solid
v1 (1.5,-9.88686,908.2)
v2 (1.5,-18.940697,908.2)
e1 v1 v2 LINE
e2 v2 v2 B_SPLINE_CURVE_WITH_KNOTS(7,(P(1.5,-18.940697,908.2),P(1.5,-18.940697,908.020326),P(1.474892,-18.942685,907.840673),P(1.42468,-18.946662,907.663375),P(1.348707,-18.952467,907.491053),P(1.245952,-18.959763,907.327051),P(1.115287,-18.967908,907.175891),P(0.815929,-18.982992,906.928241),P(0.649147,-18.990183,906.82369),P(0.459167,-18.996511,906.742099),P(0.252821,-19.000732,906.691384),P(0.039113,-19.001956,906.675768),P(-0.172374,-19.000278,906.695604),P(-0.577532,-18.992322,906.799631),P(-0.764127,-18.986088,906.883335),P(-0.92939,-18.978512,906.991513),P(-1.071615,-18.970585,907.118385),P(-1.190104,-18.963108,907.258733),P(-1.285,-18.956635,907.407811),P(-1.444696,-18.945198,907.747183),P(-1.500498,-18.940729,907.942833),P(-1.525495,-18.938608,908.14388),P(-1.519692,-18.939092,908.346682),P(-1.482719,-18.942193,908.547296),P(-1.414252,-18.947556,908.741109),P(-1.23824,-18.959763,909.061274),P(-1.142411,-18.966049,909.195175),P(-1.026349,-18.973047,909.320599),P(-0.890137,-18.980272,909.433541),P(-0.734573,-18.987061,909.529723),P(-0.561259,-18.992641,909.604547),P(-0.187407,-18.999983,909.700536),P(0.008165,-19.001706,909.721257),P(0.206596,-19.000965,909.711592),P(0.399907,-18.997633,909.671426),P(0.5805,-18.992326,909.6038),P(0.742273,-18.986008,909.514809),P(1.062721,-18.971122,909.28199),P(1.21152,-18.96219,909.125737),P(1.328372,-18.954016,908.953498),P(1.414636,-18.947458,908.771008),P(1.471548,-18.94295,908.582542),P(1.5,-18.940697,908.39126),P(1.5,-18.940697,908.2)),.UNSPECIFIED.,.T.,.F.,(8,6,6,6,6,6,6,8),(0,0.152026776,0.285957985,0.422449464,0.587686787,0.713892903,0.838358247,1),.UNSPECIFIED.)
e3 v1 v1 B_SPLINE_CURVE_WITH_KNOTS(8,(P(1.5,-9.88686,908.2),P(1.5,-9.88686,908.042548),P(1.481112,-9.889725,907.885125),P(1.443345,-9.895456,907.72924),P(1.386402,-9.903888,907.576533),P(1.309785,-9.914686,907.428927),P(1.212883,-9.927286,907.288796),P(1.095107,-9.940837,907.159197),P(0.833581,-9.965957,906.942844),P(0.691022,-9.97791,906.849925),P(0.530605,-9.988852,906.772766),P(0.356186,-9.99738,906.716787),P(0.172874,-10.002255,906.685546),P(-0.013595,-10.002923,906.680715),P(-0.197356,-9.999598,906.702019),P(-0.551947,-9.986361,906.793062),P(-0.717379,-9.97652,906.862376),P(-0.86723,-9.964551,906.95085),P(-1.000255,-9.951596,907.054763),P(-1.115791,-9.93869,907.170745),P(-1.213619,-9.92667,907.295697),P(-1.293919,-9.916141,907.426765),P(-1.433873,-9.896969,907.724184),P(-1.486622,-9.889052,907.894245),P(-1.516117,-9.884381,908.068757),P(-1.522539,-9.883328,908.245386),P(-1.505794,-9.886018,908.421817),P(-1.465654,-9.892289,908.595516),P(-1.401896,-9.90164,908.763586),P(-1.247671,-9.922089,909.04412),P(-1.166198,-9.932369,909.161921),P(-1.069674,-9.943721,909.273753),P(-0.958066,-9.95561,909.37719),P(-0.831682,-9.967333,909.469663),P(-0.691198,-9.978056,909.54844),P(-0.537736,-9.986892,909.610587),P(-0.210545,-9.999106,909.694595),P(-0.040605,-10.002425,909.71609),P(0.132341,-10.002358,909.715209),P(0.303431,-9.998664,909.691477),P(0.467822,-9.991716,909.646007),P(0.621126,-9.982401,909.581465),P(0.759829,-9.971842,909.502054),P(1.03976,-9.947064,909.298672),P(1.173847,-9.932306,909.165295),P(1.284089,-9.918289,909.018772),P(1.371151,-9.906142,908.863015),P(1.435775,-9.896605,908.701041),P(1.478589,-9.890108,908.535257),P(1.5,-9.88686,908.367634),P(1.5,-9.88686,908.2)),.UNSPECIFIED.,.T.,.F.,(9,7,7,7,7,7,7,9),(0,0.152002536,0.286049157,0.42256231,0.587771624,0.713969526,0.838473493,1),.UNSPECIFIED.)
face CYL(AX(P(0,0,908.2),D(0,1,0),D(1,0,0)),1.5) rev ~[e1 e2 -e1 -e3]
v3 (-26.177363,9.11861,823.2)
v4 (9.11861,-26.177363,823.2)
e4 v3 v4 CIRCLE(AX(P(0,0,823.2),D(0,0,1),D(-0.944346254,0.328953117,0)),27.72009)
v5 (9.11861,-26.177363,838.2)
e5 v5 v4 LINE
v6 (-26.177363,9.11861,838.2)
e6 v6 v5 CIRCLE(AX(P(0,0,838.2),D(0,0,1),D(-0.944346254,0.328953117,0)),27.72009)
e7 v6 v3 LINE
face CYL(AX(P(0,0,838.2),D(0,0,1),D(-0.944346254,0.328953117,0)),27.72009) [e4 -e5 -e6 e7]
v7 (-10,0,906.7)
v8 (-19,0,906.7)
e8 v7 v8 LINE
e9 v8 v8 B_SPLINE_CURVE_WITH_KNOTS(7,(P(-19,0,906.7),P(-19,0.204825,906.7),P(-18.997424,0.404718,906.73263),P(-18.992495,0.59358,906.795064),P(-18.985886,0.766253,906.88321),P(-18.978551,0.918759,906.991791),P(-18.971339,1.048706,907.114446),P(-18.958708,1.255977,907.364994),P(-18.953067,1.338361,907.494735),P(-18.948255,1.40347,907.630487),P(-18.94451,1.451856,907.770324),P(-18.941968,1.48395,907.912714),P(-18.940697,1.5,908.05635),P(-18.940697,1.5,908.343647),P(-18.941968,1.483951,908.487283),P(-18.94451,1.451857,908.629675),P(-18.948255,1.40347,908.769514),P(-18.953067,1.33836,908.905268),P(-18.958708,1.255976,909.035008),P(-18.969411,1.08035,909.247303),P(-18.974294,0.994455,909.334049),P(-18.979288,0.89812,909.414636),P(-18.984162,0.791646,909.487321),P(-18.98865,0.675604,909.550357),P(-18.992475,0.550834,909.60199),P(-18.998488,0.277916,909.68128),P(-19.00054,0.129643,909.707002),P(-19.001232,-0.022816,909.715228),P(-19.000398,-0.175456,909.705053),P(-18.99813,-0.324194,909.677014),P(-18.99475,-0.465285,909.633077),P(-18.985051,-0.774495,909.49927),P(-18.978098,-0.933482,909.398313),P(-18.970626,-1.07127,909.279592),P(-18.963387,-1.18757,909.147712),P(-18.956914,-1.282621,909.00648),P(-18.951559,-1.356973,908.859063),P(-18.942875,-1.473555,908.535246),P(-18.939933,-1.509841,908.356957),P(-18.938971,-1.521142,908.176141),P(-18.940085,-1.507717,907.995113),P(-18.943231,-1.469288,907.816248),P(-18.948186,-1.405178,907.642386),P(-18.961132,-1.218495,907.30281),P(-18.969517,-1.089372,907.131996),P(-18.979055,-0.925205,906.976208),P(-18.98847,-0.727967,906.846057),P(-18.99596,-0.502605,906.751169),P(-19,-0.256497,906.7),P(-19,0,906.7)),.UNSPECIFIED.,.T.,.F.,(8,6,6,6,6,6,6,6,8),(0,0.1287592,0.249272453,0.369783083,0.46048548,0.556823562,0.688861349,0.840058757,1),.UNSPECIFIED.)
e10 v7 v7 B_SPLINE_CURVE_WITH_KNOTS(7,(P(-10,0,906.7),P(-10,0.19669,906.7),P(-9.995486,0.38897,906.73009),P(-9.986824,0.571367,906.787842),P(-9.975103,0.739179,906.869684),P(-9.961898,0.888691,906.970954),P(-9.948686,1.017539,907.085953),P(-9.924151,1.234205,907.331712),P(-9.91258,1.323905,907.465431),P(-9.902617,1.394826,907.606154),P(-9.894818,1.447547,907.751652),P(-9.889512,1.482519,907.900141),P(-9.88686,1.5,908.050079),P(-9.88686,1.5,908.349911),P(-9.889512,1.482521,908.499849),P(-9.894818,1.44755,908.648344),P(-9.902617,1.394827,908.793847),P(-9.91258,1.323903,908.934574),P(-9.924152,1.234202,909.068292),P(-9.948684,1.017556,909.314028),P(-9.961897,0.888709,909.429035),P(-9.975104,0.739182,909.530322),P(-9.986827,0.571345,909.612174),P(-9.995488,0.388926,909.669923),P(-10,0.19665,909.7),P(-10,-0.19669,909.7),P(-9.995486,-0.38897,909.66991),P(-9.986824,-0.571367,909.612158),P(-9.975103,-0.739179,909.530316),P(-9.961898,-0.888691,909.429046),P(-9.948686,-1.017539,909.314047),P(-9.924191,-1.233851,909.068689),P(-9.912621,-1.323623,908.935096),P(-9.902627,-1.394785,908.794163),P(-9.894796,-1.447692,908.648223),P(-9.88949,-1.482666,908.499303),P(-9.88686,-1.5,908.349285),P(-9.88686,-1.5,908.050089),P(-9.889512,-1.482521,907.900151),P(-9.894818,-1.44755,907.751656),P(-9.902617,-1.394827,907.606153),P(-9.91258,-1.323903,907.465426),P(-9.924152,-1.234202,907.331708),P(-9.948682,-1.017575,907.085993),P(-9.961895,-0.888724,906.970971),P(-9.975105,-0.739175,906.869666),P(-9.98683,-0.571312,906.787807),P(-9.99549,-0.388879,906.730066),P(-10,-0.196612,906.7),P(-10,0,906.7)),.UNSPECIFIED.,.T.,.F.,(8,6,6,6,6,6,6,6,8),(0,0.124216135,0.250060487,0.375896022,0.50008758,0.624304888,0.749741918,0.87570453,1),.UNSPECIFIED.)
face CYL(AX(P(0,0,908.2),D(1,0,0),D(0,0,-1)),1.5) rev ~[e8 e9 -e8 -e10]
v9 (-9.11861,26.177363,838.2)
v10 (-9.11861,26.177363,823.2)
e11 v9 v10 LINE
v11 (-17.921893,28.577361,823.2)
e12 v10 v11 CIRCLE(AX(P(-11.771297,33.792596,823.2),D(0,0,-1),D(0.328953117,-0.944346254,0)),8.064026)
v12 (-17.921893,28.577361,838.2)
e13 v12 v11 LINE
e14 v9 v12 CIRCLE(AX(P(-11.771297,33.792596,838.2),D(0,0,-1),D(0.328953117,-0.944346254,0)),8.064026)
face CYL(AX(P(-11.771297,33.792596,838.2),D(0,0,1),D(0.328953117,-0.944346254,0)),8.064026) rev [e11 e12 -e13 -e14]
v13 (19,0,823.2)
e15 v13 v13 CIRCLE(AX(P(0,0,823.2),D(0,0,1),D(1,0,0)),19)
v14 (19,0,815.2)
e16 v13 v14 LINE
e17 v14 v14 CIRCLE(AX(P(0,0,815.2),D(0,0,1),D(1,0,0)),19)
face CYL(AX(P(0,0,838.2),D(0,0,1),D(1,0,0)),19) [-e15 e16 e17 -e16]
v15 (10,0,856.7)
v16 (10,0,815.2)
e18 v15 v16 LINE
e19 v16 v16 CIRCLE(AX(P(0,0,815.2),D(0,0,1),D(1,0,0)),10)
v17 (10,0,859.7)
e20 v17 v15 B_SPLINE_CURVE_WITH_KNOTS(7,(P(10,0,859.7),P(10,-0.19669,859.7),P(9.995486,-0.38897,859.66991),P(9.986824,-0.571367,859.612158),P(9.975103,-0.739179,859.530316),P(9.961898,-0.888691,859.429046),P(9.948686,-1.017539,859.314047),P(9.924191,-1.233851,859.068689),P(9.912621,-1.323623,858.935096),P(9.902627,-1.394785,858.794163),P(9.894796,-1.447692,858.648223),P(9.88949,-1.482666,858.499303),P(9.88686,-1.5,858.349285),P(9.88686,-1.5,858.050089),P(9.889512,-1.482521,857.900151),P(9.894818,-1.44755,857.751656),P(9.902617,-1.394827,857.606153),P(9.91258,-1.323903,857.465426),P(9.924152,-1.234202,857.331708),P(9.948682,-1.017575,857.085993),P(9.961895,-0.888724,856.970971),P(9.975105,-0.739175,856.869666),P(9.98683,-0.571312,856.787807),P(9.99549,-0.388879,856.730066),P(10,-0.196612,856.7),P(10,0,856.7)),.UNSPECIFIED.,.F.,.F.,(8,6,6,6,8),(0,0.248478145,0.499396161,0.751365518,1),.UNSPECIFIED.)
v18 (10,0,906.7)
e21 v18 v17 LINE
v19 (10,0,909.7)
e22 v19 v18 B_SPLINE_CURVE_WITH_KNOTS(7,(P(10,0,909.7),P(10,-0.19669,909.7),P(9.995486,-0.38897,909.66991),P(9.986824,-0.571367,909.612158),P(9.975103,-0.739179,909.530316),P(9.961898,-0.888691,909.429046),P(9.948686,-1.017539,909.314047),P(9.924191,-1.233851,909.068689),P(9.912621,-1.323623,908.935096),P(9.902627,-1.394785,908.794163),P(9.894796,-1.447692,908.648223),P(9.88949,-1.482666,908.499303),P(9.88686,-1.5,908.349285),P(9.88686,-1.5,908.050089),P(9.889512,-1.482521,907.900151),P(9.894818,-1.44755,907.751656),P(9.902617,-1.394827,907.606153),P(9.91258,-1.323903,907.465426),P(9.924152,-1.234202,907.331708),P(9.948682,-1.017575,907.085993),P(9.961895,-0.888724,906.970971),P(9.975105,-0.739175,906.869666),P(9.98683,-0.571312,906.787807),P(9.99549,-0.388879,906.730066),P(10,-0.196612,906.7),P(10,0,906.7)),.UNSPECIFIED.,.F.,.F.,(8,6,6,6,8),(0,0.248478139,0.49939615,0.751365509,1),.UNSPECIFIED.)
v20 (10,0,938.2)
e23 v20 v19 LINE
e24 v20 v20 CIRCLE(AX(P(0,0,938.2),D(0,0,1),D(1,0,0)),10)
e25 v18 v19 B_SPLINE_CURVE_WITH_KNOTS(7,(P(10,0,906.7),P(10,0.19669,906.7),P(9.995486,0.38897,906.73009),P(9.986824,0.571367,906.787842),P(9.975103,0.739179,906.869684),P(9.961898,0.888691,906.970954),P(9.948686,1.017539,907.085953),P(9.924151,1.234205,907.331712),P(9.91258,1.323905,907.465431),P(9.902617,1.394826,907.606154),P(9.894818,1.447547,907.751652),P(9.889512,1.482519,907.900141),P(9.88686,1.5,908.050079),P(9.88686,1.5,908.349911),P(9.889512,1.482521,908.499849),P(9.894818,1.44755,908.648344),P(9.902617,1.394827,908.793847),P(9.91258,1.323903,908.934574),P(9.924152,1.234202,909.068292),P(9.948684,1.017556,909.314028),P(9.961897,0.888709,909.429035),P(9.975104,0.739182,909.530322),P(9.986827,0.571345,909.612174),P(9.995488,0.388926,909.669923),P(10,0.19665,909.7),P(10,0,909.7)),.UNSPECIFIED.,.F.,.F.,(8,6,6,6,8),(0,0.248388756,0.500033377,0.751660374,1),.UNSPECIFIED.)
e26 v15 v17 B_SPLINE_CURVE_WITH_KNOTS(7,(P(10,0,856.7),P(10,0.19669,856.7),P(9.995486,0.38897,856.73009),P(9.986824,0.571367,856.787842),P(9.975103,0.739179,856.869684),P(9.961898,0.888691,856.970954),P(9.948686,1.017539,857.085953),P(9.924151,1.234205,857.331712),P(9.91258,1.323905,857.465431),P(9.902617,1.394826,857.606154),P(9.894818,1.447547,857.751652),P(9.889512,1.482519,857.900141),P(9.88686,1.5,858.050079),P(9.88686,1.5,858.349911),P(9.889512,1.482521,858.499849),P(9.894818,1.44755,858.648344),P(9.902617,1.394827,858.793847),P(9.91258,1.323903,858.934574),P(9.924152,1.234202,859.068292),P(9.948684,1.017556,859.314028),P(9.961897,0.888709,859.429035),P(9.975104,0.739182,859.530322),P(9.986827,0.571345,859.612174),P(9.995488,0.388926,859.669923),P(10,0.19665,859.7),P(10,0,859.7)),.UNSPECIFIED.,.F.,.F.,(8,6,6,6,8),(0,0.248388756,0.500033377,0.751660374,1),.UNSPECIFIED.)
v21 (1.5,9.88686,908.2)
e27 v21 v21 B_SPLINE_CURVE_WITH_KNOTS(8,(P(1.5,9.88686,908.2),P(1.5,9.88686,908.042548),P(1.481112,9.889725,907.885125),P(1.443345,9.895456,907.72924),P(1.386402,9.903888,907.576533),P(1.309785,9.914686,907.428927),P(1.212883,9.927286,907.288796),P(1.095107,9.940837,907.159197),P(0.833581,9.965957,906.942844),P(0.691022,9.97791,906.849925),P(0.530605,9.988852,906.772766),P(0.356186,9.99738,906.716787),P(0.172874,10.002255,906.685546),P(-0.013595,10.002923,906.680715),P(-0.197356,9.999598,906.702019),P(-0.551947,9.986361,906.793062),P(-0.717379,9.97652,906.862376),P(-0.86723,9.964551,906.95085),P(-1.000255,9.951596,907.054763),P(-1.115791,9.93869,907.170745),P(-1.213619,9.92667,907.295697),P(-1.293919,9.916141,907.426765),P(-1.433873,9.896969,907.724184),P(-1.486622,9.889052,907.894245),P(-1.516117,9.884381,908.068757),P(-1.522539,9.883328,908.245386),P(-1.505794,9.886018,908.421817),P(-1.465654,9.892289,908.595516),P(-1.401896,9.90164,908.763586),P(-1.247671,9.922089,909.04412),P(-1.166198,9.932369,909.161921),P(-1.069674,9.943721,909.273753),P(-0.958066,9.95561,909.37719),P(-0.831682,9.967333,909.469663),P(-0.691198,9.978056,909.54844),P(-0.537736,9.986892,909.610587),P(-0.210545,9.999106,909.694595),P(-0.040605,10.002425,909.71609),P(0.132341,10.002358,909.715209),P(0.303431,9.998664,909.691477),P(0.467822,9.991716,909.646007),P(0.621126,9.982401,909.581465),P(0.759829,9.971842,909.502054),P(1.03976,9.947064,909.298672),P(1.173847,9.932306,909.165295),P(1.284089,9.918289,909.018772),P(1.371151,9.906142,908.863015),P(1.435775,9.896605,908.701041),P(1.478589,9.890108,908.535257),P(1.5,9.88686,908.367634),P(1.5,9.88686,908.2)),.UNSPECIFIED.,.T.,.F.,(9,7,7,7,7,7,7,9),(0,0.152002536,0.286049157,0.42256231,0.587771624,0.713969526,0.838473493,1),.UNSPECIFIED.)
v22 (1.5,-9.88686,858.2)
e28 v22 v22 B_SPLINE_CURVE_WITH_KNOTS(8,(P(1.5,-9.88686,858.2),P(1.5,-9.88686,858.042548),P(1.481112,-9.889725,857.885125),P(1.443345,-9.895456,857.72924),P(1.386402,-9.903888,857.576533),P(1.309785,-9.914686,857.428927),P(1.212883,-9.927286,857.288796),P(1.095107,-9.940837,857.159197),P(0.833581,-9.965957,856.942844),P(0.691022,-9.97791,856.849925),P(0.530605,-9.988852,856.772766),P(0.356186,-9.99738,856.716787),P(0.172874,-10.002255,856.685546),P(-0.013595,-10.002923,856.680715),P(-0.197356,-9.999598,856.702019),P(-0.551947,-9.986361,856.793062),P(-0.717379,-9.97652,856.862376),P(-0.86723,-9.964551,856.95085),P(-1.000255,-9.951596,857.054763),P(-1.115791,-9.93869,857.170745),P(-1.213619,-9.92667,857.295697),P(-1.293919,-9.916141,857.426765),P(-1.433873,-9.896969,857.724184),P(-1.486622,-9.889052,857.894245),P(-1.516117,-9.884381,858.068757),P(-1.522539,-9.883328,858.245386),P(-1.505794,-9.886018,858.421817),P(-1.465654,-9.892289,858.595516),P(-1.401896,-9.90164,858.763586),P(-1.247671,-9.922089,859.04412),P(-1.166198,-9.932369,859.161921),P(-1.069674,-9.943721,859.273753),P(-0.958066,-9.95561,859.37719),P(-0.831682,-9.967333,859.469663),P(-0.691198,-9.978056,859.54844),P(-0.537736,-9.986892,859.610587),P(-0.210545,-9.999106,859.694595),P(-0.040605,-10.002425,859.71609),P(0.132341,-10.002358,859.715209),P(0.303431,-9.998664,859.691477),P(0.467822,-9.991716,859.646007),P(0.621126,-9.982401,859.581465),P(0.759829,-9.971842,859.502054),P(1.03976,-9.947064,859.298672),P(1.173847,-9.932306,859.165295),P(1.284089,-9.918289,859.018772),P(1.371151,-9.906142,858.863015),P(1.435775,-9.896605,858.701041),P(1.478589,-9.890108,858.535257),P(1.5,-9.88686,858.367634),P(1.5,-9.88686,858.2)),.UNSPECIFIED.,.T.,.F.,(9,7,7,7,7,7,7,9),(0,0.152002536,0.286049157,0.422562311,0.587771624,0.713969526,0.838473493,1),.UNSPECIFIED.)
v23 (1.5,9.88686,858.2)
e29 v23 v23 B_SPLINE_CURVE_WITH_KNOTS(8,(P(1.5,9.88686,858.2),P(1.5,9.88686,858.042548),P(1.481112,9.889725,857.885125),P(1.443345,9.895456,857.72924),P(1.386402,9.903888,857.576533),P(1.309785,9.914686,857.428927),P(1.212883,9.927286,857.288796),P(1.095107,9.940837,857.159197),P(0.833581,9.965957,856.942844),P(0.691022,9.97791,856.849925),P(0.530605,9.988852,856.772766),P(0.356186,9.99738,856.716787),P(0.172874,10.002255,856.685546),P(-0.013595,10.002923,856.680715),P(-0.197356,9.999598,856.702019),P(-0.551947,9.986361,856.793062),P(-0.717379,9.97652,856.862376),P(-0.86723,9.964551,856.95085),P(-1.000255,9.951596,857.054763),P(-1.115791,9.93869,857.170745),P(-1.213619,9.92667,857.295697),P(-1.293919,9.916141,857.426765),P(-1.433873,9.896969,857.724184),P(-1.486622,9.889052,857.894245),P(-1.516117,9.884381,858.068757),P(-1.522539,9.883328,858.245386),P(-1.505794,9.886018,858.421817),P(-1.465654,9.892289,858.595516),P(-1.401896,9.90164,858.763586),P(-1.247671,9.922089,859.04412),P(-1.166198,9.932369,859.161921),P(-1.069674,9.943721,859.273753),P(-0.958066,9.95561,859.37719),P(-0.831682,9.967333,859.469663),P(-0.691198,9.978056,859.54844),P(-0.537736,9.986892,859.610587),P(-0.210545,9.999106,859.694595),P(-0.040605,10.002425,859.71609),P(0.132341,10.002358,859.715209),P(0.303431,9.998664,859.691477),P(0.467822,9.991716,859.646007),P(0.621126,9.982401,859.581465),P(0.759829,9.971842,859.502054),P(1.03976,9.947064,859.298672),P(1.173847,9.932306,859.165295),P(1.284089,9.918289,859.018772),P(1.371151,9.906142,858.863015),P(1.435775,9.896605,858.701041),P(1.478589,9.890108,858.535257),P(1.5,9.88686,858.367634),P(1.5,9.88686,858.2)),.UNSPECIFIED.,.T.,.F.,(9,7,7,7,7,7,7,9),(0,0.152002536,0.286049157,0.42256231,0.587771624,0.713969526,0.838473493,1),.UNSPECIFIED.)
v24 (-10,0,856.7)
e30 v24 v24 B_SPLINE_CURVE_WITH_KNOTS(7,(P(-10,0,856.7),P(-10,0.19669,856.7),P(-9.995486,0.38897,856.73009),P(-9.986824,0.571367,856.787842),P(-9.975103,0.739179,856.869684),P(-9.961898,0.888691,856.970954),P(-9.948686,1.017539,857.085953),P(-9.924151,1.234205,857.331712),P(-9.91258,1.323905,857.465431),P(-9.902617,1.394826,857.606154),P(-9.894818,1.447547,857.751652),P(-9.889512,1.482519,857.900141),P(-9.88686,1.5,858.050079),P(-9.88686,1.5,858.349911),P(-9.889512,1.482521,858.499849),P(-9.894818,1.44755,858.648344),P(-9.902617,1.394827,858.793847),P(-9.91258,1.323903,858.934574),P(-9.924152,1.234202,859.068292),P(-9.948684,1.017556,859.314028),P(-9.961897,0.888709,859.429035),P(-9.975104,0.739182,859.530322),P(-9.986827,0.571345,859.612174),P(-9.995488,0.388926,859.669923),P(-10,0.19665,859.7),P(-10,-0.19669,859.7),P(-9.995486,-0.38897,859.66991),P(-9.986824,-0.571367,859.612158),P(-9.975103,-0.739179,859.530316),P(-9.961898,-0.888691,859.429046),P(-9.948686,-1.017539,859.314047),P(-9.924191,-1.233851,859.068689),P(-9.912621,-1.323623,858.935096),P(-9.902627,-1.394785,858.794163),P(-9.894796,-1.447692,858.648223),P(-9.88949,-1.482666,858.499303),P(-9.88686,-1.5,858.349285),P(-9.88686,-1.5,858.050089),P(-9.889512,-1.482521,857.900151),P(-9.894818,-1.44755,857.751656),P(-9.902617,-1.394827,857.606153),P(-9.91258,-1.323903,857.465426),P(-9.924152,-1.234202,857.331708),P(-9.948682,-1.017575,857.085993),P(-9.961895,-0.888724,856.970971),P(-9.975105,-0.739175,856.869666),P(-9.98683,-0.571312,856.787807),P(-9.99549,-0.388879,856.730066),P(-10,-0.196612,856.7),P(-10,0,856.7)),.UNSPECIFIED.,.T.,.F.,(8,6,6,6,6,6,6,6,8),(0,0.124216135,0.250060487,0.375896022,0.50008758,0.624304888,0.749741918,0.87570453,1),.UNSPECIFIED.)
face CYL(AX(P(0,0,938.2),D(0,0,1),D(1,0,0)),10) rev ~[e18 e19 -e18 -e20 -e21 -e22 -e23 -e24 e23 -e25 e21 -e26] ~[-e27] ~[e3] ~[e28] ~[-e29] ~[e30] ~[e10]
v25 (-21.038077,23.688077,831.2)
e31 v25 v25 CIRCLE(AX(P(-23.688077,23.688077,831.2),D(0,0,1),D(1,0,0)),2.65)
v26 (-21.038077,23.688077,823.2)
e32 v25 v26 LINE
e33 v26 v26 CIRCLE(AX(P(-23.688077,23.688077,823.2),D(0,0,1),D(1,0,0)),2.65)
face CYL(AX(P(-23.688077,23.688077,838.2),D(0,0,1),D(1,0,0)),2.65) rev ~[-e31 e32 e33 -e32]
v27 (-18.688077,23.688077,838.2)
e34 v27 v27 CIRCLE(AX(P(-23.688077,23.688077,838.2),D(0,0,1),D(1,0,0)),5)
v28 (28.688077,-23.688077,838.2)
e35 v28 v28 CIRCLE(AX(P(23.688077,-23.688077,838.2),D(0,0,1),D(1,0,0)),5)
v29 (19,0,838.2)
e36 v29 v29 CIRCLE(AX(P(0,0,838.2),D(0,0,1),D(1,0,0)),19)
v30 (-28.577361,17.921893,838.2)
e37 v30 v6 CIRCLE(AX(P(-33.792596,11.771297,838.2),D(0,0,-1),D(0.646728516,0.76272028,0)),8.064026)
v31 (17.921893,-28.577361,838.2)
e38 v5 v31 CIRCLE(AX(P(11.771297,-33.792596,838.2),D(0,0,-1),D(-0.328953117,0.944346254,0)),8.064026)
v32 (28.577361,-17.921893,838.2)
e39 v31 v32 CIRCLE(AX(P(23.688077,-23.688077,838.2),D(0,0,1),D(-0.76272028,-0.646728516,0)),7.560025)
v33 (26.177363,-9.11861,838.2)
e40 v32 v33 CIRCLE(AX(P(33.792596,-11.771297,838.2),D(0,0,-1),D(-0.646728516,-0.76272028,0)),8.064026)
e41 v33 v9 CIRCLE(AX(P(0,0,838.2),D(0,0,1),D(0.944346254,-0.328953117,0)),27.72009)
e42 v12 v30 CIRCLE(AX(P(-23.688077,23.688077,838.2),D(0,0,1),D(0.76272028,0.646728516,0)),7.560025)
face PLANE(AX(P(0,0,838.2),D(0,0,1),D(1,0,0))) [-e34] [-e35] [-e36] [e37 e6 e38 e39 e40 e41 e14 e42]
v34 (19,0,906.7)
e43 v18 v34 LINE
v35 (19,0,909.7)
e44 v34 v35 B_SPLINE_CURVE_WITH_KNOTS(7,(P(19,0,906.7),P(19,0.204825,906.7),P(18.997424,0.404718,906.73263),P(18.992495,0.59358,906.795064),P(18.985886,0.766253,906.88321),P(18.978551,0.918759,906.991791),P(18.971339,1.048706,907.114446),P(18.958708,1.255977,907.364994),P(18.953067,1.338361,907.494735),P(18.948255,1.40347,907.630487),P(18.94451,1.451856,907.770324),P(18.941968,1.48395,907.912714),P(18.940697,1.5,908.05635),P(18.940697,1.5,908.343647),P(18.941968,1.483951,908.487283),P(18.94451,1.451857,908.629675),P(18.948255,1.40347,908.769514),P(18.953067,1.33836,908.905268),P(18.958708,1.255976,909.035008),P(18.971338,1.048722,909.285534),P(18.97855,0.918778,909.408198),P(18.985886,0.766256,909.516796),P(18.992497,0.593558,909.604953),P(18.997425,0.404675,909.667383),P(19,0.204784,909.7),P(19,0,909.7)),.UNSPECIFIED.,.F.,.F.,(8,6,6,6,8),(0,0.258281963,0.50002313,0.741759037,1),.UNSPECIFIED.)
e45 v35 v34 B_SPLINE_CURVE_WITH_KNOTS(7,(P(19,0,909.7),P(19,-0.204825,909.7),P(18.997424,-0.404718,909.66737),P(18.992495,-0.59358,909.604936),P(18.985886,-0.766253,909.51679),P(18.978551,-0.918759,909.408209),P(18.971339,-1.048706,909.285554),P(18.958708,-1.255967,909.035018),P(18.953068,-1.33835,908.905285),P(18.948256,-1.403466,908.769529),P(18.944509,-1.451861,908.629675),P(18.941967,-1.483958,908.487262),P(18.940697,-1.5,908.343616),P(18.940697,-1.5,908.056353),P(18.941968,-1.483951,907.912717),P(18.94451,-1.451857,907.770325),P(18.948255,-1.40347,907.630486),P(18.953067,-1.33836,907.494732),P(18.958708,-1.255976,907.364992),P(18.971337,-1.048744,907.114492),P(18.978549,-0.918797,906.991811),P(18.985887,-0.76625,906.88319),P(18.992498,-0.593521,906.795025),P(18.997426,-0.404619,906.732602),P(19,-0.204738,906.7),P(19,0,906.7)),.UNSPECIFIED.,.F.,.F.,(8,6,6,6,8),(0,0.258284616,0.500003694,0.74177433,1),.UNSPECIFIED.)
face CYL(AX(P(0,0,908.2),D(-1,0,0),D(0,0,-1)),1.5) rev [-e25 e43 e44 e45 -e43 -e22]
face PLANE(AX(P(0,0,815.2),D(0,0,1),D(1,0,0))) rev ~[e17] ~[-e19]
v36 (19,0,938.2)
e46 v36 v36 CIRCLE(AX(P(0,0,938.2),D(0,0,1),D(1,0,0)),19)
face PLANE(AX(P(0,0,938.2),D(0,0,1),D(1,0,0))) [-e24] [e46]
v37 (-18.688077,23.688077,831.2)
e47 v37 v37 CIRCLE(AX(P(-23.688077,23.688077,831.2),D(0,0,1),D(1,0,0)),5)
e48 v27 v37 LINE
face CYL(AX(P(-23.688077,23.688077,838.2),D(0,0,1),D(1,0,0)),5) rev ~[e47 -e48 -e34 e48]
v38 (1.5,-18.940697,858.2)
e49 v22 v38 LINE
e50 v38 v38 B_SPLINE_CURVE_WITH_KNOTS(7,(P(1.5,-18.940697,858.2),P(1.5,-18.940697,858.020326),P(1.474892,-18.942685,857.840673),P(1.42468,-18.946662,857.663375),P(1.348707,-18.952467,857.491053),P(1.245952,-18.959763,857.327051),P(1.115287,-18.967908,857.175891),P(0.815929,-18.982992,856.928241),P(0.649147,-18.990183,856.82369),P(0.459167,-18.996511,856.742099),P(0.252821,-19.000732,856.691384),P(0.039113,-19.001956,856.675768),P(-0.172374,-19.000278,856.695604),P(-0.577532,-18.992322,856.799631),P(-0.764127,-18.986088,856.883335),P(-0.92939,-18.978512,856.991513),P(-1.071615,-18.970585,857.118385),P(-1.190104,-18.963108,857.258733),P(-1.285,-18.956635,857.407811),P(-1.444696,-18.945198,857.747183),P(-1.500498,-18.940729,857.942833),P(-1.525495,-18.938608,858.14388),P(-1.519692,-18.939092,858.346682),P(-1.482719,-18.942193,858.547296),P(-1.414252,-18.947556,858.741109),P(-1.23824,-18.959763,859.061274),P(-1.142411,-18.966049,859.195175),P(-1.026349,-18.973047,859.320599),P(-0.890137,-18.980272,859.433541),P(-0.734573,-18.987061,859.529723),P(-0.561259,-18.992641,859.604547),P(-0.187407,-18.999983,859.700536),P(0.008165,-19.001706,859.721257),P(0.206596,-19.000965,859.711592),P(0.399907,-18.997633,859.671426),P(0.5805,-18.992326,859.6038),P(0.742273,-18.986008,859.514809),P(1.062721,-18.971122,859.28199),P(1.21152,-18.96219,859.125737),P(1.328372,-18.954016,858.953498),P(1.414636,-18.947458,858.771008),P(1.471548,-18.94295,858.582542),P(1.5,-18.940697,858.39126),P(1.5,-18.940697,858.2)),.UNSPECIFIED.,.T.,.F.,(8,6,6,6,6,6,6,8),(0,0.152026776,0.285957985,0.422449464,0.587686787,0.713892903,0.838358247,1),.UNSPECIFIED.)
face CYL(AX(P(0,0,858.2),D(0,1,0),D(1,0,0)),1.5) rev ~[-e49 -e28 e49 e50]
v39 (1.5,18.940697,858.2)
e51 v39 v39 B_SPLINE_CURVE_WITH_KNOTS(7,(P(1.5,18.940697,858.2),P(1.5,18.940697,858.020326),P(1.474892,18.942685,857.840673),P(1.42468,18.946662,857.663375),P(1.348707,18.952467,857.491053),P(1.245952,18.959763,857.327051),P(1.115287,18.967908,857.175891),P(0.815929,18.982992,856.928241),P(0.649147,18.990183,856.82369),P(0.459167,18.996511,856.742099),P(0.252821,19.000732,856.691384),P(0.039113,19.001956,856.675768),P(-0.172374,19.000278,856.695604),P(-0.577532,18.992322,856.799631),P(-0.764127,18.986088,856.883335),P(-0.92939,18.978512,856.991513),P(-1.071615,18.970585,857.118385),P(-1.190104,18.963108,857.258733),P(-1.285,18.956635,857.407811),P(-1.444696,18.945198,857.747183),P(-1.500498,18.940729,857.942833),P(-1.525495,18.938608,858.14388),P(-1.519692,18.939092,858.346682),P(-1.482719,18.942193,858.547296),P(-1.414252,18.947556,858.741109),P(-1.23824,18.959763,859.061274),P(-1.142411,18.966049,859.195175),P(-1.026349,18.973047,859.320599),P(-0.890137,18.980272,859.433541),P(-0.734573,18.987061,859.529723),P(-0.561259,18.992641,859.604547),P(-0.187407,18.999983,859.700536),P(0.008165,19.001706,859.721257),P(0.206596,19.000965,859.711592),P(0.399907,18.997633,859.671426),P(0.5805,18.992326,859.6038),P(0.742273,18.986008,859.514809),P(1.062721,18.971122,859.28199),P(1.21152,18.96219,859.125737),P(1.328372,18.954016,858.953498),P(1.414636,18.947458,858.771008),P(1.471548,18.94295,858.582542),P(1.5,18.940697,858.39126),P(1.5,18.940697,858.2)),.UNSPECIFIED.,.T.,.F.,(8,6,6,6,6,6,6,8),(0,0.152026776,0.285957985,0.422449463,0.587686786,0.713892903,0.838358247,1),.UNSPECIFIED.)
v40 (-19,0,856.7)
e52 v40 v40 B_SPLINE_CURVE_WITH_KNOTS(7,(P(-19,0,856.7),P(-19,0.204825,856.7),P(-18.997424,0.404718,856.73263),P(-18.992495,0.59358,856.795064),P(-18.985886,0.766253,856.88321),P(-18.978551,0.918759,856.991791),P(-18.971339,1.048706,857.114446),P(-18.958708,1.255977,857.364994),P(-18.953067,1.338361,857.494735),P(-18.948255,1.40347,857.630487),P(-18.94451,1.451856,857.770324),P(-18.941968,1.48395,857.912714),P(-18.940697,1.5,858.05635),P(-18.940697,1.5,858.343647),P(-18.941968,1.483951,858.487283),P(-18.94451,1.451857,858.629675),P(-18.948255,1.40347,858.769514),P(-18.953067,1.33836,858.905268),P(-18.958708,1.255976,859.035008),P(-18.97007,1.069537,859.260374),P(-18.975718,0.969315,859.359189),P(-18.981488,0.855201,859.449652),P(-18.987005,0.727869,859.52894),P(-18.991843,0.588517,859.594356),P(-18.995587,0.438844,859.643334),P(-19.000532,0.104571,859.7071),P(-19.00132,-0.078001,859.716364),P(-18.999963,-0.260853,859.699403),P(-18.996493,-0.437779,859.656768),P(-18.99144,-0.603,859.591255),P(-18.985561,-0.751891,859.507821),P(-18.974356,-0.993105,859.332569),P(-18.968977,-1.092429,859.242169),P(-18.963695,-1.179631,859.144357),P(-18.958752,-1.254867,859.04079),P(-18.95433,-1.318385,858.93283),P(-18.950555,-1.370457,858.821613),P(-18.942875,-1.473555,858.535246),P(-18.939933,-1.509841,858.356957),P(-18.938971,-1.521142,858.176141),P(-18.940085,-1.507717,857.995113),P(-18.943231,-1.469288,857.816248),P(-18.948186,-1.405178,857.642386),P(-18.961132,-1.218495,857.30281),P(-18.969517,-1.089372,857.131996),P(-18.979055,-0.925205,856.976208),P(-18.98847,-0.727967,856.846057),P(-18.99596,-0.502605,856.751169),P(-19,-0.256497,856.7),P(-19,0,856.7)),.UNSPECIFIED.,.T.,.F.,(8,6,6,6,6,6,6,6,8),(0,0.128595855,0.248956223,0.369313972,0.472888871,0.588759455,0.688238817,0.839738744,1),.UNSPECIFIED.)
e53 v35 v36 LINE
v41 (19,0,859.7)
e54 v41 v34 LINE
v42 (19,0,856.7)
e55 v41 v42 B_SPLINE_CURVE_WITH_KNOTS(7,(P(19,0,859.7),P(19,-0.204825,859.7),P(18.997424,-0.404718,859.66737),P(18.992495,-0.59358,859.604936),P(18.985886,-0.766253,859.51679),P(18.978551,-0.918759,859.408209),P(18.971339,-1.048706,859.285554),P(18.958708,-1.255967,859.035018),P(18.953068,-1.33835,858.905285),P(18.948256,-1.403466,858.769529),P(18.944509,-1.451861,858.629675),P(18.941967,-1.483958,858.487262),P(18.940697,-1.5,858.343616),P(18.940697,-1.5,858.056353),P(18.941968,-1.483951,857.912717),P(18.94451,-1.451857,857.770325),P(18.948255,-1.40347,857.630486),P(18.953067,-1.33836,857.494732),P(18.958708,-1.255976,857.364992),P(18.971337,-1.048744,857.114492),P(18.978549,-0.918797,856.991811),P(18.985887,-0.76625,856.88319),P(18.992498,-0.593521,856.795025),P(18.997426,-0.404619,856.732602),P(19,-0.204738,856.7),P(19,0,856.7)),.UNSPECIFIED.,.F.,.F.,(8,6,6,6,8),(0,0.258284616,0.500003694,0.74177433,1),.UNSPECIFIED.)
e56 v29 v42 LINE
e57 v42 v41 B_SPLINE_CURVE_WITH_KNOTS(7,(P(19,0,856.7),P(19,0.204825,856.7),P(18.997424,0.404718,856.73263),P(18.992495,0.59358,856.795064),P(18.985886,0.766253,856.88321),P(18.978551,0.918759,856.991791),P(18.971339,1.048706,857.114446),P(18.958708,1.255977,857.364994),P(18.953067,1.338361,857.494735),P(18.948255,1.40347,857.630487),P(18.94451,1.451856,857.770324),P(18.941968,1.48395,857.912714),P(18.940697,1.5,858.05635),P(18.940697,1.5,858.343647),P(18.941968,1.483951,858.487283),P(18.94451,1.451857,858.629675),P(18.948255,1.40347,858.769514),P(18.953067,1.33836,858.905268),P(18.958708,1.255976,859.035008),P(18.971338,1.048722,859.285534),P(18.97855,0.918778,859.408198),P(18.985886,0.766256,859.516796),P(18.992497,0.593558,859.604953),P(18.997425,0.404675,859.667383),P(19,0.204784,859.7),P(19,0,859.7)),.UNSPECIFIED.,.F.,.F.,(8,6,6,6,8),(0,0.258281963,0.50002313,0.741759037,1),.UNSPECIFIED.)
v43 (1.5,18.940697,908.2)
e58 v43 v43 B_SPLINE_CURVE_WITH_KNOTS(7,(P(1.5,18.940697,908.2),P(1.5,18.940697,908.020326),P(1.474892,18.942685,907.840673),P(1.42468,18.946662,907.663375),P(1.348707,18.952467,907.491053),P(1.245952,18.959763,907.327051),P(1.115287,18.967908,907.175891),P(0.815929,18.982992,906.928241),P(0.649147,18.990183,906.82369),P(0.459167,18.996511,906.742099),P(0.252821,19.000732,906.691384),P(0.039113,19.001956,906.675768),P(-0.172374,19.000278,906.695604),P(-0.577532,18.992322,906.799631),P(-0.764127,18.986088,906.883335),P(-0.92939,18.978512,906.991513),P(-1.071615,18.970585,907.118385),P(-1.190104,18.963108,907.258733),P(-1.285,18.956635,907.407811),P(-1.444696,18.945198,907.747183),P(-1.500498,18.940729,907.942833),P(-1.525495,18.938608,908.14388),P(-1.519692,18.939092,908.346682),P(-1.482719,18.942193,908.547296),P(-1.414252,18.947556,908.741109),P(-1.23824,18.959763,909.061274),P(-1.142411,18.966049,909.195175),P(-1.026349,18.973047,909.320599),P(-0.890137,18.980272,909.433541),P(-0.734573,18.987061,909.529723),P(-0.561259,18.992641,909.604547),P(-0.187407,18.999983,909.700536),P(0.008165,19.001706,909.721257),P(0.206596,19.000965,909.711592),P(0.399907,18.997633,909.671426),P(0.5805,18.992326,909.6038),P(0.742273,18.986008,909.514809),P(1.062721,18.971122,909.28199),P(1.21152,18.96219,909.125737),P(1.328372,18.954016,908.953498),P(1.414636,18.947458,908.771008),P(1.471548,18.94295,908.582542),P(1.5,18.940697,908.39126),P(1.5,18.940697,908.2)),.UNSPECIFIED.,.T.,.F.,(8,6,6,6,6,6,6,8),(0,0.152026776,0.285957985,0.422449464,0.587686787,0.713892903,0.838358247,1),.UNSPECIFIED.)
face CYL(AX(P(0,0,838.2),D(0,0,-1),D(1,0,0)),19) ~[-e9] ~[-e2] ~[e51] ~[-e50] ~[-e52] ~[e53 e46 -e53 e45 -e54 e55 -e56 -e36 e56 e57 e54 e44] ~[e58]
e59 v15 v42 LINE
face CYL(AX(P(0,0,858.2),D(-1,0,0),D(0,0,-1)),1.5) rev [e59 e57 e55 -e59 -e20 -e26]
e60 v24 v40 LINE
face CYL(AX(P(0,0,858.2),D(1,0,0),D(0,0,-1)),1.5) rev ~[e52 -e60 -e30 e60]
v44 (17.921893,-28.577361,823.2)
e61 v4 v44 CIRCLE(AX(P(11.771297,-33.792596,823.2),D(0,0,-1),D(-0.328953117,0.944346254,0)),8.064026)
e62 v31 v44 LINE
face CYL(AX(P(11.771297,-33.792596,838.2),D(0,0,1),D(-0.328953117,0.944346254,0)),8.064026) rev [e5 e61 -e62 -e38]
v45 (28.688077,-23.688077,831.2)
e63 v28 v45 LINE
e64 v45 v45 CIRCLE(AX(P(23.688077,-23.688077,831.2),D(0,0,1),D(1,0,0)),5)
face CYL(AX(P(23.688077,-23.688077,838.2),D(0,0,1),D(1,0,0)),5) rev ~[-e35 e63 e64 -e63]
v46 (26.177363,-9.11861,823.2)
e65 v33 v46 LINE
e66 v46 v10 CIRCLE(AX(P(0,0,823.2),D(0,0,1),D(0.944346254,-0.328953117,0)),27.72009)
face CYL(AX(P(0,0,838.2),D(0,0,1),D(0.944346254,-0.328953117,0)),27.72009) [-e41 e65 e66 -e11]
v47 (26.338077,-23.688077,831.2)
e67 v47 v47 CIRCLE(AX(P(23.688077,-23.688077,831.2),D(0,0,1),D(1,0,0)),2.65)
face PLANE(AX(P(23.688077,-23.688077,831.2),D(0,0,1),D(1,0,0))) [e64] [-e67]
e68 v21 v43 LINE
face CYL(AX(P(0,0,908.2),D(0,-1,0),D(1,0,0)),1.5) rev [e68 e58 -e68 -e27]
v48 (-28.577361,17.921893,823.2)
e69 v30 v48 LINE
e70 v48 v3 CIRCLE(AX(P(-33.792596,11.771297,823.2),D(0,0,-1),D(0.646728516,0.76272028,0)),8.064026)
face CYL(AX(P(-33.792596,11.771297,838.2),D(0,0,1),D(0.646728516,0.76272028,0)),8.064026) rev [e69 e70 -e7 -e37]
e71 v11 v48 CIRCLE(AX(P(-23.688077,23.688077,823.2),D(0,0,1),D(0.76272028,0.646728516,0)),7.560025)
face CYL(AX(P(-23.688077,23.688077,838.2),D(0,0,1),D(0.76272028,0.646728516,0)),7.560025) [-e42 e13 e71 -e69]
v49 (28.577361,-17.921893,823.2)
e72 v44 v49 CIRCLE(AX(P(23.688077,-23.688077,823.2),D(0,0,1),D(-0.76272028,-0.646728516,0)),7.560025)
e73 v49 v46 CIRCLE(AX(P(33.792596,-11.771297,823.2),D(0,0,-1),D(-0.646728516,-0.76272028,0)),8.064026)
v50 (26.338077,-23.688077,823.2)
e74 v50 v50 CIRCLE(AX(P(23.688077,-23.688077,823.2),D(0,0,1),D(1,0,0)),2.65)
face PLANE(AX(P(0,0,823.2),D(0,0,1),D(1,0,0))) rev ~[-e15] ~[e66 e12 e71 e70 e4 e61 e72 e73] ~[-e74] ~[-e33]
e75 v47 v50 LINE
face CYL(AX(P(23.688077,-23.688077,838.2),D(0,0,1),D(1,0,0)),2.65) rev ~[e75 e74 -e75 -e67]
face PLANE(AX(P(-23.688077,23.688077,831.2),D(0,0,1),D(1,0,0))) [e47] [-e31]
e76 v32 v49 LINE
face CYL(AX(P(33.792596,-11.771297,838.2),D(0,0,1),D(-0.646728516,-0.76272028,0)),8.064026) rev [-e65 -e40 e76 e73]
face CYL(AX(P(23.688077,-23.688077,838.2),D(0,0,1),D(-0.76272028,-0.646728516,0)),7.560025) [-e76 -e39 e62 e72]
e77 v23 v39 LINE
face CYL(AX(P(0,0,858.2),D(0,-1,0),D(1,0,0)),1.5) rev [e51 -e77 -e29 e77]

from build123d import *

# Parameters (mm, degrees)
ESQUISSE1_R                  = 2.65
BOSS_EXTRU_1_DEPTH           = 15
ESQUISSE9_R                  = 19
BOSS_EXTRU_4_DEPTH           = 100
BOSS_EXTRU_4_DEPTH_BACK      = 23
ESQUISSE12_R                 = 10
ENL_V_MAT_EXTRU_2_DEPTH      = 124
ESQUISSE13_R                 = 5
ENL_V_MAT_EXTRU_3_DEPTH      = 7
ESQUISSE14_R                 = 1.5
ENL_V_MAT_EXTRU_4_DEPTH      = 32.248101798
ENL_V_MAT_EXTRU_4_DEPTH_BACK = 32.248101798
ESQUISSE15_R                 = 1.5
ENL_V_MAT_EXTRU_5_DEPTH      = 32.248101798
ENL_V_MAT_EXTRU_5_DEPTH_BACK = 32.248101798


with BuildPart() as part:
    # Esquisse1 → Boss.-Extru.1 (new body)
    with BuildSketch(Plane.XY.offset(838.2)):
        with BuildLine():
            ThreePointArc((-9.11861011, 26.177363431), (-13.892343586, 26.012514183), (-17.921893066, 28.577360682))
            ThreePointArc((-17.921893066, 28.577360682), (-29.033821851, 29.033821851), (-28.577360682, 17.921893066))
            ThreePointArc((-28.577360682, 17.921893066), (-26.012514183, 13.892343586), (-26.177363431, 9.11861011))
            ThreePointArc((-26.177363431, 9.11861011), (-19.60106383, -19.60106383), (9.11861011, -26.177363431))
            ThreePointArc((9.11861011, -26.177363431), (13.892343586, -26.012514183), (17.921893066, -28.577360682))
            ThreePointArc((17.921893066, -28.577360682), (29.033821851, -29.033821851), (28.577360682, -17.921893066))
            ThreePointArc((28.577360682, -17.921893066), (26.012514183, -13.892343586), (26.177363431, -9.11861011))
            ThreePointArc((26.177363431, -9.11861011), (19.60106383, 19.60106383), (-9.11861011, 26.177363431))
        make_face()
        with Locations((23.68807717, -23.68807717)):
            Circle(ESQUISSE1_R, mode=Mode.SUBTRACT)
        with Locations((-23.68807717, 23.68807717)):
            Circle(ESQUISSE1_R, mode=Mode.SUBTRACT)
    extrude(amount=-BOSS_EXTRU_1_DEPTH)

    # Esquisse9 → Boss.-Extru.4 (add, two sides)
    with BuildSketch(Plane.XY.offset(838.2)) as boss_extru_4_sk:
        Circle(ESQUISSE9_R)
    extrude(amount=BOSS_EXTRU_4_DEPTH)
    extrude(boss_extru_4_sk.sketch, amount=-BOSS_EXTRU_4_DEPTH_BACK)

    # Esquisse12 → Enlèv. mat.-Extru.2 (cut, through all)
    with BuildSketch(Plane.XY.offset(938.2)):
        Circle(ESQUISSE12_R)
    extrude(amount=-ENL_V_MAT_EXTRU_2_DEPTH, mode=Mode.SUBTRACT)

    # Esquisse13 → Enlèv. mat.-Extru.3 (cut)
    with BuildSketch(Plane.XY.offset(838.2)):
        with Locations((-23.68807717, 23.68807717)):
            Circle(ESQUISSE13_R)
        with Locations((23.68807717, -23.68807717)):
            Circle(ESQUISSE13_R)
    extrude(amount=-ENL_V_MAT_EXTRU_3_DEPTH, mode=Mode.SUBTRACT)

    # Esquisse14 → Enlèv. mat.-Extru.4 (cut, two sides)
    with BuildSketch(Plane(origin=(0, 0, 0), x_dir=(1, 0, 0), z_dir=(0, 1, 0))) as enl_v_mat_extru_4_sk:
        with Locations((0, -858.2)):
            Circle(ESQUISSE14_R)
        with Locations((0, -908.2)):
            Circle(ESQUISSE14_R)
    extrude(amount=ENL_V_MAT_EXTRU_4_DEPTH, mode=Mode.SUBTRACT)
    extrude(enl_v_mat_extru_4_sk.sketch, amount=-ENL_V_MAT_EXTRU_4_DEPTH_BACK, mode=Mode.SUBTRACT)

    # Esquisse15 → Enlèv. mat.-Extru.5 (cut, two sides)
    with BuildSketch(Plane(origin=(0, 0, 0), x_dir=(0, 0, -1), z_dir=(1, 0, 0))) as enl_v_mat_extru_5_sk:
        with Locations((-858.2, 0)):
            Circle(ESQUISSE15_R)
        with Locations((-908.2, 0)):
            Circle(ESQUISSE15_R)
    extrude(amount=ENL_V_MAT_EXTRU_5_DEPTH, mode=Mode.SUBTRACT)
    extrude(enl_v_mat_extru_5_sk.sketch, amount=-ENL_V_MAT_EXTRU_5_DEPTH_BACK, mode=Mode.SUBTRACT)


solid = part.part
